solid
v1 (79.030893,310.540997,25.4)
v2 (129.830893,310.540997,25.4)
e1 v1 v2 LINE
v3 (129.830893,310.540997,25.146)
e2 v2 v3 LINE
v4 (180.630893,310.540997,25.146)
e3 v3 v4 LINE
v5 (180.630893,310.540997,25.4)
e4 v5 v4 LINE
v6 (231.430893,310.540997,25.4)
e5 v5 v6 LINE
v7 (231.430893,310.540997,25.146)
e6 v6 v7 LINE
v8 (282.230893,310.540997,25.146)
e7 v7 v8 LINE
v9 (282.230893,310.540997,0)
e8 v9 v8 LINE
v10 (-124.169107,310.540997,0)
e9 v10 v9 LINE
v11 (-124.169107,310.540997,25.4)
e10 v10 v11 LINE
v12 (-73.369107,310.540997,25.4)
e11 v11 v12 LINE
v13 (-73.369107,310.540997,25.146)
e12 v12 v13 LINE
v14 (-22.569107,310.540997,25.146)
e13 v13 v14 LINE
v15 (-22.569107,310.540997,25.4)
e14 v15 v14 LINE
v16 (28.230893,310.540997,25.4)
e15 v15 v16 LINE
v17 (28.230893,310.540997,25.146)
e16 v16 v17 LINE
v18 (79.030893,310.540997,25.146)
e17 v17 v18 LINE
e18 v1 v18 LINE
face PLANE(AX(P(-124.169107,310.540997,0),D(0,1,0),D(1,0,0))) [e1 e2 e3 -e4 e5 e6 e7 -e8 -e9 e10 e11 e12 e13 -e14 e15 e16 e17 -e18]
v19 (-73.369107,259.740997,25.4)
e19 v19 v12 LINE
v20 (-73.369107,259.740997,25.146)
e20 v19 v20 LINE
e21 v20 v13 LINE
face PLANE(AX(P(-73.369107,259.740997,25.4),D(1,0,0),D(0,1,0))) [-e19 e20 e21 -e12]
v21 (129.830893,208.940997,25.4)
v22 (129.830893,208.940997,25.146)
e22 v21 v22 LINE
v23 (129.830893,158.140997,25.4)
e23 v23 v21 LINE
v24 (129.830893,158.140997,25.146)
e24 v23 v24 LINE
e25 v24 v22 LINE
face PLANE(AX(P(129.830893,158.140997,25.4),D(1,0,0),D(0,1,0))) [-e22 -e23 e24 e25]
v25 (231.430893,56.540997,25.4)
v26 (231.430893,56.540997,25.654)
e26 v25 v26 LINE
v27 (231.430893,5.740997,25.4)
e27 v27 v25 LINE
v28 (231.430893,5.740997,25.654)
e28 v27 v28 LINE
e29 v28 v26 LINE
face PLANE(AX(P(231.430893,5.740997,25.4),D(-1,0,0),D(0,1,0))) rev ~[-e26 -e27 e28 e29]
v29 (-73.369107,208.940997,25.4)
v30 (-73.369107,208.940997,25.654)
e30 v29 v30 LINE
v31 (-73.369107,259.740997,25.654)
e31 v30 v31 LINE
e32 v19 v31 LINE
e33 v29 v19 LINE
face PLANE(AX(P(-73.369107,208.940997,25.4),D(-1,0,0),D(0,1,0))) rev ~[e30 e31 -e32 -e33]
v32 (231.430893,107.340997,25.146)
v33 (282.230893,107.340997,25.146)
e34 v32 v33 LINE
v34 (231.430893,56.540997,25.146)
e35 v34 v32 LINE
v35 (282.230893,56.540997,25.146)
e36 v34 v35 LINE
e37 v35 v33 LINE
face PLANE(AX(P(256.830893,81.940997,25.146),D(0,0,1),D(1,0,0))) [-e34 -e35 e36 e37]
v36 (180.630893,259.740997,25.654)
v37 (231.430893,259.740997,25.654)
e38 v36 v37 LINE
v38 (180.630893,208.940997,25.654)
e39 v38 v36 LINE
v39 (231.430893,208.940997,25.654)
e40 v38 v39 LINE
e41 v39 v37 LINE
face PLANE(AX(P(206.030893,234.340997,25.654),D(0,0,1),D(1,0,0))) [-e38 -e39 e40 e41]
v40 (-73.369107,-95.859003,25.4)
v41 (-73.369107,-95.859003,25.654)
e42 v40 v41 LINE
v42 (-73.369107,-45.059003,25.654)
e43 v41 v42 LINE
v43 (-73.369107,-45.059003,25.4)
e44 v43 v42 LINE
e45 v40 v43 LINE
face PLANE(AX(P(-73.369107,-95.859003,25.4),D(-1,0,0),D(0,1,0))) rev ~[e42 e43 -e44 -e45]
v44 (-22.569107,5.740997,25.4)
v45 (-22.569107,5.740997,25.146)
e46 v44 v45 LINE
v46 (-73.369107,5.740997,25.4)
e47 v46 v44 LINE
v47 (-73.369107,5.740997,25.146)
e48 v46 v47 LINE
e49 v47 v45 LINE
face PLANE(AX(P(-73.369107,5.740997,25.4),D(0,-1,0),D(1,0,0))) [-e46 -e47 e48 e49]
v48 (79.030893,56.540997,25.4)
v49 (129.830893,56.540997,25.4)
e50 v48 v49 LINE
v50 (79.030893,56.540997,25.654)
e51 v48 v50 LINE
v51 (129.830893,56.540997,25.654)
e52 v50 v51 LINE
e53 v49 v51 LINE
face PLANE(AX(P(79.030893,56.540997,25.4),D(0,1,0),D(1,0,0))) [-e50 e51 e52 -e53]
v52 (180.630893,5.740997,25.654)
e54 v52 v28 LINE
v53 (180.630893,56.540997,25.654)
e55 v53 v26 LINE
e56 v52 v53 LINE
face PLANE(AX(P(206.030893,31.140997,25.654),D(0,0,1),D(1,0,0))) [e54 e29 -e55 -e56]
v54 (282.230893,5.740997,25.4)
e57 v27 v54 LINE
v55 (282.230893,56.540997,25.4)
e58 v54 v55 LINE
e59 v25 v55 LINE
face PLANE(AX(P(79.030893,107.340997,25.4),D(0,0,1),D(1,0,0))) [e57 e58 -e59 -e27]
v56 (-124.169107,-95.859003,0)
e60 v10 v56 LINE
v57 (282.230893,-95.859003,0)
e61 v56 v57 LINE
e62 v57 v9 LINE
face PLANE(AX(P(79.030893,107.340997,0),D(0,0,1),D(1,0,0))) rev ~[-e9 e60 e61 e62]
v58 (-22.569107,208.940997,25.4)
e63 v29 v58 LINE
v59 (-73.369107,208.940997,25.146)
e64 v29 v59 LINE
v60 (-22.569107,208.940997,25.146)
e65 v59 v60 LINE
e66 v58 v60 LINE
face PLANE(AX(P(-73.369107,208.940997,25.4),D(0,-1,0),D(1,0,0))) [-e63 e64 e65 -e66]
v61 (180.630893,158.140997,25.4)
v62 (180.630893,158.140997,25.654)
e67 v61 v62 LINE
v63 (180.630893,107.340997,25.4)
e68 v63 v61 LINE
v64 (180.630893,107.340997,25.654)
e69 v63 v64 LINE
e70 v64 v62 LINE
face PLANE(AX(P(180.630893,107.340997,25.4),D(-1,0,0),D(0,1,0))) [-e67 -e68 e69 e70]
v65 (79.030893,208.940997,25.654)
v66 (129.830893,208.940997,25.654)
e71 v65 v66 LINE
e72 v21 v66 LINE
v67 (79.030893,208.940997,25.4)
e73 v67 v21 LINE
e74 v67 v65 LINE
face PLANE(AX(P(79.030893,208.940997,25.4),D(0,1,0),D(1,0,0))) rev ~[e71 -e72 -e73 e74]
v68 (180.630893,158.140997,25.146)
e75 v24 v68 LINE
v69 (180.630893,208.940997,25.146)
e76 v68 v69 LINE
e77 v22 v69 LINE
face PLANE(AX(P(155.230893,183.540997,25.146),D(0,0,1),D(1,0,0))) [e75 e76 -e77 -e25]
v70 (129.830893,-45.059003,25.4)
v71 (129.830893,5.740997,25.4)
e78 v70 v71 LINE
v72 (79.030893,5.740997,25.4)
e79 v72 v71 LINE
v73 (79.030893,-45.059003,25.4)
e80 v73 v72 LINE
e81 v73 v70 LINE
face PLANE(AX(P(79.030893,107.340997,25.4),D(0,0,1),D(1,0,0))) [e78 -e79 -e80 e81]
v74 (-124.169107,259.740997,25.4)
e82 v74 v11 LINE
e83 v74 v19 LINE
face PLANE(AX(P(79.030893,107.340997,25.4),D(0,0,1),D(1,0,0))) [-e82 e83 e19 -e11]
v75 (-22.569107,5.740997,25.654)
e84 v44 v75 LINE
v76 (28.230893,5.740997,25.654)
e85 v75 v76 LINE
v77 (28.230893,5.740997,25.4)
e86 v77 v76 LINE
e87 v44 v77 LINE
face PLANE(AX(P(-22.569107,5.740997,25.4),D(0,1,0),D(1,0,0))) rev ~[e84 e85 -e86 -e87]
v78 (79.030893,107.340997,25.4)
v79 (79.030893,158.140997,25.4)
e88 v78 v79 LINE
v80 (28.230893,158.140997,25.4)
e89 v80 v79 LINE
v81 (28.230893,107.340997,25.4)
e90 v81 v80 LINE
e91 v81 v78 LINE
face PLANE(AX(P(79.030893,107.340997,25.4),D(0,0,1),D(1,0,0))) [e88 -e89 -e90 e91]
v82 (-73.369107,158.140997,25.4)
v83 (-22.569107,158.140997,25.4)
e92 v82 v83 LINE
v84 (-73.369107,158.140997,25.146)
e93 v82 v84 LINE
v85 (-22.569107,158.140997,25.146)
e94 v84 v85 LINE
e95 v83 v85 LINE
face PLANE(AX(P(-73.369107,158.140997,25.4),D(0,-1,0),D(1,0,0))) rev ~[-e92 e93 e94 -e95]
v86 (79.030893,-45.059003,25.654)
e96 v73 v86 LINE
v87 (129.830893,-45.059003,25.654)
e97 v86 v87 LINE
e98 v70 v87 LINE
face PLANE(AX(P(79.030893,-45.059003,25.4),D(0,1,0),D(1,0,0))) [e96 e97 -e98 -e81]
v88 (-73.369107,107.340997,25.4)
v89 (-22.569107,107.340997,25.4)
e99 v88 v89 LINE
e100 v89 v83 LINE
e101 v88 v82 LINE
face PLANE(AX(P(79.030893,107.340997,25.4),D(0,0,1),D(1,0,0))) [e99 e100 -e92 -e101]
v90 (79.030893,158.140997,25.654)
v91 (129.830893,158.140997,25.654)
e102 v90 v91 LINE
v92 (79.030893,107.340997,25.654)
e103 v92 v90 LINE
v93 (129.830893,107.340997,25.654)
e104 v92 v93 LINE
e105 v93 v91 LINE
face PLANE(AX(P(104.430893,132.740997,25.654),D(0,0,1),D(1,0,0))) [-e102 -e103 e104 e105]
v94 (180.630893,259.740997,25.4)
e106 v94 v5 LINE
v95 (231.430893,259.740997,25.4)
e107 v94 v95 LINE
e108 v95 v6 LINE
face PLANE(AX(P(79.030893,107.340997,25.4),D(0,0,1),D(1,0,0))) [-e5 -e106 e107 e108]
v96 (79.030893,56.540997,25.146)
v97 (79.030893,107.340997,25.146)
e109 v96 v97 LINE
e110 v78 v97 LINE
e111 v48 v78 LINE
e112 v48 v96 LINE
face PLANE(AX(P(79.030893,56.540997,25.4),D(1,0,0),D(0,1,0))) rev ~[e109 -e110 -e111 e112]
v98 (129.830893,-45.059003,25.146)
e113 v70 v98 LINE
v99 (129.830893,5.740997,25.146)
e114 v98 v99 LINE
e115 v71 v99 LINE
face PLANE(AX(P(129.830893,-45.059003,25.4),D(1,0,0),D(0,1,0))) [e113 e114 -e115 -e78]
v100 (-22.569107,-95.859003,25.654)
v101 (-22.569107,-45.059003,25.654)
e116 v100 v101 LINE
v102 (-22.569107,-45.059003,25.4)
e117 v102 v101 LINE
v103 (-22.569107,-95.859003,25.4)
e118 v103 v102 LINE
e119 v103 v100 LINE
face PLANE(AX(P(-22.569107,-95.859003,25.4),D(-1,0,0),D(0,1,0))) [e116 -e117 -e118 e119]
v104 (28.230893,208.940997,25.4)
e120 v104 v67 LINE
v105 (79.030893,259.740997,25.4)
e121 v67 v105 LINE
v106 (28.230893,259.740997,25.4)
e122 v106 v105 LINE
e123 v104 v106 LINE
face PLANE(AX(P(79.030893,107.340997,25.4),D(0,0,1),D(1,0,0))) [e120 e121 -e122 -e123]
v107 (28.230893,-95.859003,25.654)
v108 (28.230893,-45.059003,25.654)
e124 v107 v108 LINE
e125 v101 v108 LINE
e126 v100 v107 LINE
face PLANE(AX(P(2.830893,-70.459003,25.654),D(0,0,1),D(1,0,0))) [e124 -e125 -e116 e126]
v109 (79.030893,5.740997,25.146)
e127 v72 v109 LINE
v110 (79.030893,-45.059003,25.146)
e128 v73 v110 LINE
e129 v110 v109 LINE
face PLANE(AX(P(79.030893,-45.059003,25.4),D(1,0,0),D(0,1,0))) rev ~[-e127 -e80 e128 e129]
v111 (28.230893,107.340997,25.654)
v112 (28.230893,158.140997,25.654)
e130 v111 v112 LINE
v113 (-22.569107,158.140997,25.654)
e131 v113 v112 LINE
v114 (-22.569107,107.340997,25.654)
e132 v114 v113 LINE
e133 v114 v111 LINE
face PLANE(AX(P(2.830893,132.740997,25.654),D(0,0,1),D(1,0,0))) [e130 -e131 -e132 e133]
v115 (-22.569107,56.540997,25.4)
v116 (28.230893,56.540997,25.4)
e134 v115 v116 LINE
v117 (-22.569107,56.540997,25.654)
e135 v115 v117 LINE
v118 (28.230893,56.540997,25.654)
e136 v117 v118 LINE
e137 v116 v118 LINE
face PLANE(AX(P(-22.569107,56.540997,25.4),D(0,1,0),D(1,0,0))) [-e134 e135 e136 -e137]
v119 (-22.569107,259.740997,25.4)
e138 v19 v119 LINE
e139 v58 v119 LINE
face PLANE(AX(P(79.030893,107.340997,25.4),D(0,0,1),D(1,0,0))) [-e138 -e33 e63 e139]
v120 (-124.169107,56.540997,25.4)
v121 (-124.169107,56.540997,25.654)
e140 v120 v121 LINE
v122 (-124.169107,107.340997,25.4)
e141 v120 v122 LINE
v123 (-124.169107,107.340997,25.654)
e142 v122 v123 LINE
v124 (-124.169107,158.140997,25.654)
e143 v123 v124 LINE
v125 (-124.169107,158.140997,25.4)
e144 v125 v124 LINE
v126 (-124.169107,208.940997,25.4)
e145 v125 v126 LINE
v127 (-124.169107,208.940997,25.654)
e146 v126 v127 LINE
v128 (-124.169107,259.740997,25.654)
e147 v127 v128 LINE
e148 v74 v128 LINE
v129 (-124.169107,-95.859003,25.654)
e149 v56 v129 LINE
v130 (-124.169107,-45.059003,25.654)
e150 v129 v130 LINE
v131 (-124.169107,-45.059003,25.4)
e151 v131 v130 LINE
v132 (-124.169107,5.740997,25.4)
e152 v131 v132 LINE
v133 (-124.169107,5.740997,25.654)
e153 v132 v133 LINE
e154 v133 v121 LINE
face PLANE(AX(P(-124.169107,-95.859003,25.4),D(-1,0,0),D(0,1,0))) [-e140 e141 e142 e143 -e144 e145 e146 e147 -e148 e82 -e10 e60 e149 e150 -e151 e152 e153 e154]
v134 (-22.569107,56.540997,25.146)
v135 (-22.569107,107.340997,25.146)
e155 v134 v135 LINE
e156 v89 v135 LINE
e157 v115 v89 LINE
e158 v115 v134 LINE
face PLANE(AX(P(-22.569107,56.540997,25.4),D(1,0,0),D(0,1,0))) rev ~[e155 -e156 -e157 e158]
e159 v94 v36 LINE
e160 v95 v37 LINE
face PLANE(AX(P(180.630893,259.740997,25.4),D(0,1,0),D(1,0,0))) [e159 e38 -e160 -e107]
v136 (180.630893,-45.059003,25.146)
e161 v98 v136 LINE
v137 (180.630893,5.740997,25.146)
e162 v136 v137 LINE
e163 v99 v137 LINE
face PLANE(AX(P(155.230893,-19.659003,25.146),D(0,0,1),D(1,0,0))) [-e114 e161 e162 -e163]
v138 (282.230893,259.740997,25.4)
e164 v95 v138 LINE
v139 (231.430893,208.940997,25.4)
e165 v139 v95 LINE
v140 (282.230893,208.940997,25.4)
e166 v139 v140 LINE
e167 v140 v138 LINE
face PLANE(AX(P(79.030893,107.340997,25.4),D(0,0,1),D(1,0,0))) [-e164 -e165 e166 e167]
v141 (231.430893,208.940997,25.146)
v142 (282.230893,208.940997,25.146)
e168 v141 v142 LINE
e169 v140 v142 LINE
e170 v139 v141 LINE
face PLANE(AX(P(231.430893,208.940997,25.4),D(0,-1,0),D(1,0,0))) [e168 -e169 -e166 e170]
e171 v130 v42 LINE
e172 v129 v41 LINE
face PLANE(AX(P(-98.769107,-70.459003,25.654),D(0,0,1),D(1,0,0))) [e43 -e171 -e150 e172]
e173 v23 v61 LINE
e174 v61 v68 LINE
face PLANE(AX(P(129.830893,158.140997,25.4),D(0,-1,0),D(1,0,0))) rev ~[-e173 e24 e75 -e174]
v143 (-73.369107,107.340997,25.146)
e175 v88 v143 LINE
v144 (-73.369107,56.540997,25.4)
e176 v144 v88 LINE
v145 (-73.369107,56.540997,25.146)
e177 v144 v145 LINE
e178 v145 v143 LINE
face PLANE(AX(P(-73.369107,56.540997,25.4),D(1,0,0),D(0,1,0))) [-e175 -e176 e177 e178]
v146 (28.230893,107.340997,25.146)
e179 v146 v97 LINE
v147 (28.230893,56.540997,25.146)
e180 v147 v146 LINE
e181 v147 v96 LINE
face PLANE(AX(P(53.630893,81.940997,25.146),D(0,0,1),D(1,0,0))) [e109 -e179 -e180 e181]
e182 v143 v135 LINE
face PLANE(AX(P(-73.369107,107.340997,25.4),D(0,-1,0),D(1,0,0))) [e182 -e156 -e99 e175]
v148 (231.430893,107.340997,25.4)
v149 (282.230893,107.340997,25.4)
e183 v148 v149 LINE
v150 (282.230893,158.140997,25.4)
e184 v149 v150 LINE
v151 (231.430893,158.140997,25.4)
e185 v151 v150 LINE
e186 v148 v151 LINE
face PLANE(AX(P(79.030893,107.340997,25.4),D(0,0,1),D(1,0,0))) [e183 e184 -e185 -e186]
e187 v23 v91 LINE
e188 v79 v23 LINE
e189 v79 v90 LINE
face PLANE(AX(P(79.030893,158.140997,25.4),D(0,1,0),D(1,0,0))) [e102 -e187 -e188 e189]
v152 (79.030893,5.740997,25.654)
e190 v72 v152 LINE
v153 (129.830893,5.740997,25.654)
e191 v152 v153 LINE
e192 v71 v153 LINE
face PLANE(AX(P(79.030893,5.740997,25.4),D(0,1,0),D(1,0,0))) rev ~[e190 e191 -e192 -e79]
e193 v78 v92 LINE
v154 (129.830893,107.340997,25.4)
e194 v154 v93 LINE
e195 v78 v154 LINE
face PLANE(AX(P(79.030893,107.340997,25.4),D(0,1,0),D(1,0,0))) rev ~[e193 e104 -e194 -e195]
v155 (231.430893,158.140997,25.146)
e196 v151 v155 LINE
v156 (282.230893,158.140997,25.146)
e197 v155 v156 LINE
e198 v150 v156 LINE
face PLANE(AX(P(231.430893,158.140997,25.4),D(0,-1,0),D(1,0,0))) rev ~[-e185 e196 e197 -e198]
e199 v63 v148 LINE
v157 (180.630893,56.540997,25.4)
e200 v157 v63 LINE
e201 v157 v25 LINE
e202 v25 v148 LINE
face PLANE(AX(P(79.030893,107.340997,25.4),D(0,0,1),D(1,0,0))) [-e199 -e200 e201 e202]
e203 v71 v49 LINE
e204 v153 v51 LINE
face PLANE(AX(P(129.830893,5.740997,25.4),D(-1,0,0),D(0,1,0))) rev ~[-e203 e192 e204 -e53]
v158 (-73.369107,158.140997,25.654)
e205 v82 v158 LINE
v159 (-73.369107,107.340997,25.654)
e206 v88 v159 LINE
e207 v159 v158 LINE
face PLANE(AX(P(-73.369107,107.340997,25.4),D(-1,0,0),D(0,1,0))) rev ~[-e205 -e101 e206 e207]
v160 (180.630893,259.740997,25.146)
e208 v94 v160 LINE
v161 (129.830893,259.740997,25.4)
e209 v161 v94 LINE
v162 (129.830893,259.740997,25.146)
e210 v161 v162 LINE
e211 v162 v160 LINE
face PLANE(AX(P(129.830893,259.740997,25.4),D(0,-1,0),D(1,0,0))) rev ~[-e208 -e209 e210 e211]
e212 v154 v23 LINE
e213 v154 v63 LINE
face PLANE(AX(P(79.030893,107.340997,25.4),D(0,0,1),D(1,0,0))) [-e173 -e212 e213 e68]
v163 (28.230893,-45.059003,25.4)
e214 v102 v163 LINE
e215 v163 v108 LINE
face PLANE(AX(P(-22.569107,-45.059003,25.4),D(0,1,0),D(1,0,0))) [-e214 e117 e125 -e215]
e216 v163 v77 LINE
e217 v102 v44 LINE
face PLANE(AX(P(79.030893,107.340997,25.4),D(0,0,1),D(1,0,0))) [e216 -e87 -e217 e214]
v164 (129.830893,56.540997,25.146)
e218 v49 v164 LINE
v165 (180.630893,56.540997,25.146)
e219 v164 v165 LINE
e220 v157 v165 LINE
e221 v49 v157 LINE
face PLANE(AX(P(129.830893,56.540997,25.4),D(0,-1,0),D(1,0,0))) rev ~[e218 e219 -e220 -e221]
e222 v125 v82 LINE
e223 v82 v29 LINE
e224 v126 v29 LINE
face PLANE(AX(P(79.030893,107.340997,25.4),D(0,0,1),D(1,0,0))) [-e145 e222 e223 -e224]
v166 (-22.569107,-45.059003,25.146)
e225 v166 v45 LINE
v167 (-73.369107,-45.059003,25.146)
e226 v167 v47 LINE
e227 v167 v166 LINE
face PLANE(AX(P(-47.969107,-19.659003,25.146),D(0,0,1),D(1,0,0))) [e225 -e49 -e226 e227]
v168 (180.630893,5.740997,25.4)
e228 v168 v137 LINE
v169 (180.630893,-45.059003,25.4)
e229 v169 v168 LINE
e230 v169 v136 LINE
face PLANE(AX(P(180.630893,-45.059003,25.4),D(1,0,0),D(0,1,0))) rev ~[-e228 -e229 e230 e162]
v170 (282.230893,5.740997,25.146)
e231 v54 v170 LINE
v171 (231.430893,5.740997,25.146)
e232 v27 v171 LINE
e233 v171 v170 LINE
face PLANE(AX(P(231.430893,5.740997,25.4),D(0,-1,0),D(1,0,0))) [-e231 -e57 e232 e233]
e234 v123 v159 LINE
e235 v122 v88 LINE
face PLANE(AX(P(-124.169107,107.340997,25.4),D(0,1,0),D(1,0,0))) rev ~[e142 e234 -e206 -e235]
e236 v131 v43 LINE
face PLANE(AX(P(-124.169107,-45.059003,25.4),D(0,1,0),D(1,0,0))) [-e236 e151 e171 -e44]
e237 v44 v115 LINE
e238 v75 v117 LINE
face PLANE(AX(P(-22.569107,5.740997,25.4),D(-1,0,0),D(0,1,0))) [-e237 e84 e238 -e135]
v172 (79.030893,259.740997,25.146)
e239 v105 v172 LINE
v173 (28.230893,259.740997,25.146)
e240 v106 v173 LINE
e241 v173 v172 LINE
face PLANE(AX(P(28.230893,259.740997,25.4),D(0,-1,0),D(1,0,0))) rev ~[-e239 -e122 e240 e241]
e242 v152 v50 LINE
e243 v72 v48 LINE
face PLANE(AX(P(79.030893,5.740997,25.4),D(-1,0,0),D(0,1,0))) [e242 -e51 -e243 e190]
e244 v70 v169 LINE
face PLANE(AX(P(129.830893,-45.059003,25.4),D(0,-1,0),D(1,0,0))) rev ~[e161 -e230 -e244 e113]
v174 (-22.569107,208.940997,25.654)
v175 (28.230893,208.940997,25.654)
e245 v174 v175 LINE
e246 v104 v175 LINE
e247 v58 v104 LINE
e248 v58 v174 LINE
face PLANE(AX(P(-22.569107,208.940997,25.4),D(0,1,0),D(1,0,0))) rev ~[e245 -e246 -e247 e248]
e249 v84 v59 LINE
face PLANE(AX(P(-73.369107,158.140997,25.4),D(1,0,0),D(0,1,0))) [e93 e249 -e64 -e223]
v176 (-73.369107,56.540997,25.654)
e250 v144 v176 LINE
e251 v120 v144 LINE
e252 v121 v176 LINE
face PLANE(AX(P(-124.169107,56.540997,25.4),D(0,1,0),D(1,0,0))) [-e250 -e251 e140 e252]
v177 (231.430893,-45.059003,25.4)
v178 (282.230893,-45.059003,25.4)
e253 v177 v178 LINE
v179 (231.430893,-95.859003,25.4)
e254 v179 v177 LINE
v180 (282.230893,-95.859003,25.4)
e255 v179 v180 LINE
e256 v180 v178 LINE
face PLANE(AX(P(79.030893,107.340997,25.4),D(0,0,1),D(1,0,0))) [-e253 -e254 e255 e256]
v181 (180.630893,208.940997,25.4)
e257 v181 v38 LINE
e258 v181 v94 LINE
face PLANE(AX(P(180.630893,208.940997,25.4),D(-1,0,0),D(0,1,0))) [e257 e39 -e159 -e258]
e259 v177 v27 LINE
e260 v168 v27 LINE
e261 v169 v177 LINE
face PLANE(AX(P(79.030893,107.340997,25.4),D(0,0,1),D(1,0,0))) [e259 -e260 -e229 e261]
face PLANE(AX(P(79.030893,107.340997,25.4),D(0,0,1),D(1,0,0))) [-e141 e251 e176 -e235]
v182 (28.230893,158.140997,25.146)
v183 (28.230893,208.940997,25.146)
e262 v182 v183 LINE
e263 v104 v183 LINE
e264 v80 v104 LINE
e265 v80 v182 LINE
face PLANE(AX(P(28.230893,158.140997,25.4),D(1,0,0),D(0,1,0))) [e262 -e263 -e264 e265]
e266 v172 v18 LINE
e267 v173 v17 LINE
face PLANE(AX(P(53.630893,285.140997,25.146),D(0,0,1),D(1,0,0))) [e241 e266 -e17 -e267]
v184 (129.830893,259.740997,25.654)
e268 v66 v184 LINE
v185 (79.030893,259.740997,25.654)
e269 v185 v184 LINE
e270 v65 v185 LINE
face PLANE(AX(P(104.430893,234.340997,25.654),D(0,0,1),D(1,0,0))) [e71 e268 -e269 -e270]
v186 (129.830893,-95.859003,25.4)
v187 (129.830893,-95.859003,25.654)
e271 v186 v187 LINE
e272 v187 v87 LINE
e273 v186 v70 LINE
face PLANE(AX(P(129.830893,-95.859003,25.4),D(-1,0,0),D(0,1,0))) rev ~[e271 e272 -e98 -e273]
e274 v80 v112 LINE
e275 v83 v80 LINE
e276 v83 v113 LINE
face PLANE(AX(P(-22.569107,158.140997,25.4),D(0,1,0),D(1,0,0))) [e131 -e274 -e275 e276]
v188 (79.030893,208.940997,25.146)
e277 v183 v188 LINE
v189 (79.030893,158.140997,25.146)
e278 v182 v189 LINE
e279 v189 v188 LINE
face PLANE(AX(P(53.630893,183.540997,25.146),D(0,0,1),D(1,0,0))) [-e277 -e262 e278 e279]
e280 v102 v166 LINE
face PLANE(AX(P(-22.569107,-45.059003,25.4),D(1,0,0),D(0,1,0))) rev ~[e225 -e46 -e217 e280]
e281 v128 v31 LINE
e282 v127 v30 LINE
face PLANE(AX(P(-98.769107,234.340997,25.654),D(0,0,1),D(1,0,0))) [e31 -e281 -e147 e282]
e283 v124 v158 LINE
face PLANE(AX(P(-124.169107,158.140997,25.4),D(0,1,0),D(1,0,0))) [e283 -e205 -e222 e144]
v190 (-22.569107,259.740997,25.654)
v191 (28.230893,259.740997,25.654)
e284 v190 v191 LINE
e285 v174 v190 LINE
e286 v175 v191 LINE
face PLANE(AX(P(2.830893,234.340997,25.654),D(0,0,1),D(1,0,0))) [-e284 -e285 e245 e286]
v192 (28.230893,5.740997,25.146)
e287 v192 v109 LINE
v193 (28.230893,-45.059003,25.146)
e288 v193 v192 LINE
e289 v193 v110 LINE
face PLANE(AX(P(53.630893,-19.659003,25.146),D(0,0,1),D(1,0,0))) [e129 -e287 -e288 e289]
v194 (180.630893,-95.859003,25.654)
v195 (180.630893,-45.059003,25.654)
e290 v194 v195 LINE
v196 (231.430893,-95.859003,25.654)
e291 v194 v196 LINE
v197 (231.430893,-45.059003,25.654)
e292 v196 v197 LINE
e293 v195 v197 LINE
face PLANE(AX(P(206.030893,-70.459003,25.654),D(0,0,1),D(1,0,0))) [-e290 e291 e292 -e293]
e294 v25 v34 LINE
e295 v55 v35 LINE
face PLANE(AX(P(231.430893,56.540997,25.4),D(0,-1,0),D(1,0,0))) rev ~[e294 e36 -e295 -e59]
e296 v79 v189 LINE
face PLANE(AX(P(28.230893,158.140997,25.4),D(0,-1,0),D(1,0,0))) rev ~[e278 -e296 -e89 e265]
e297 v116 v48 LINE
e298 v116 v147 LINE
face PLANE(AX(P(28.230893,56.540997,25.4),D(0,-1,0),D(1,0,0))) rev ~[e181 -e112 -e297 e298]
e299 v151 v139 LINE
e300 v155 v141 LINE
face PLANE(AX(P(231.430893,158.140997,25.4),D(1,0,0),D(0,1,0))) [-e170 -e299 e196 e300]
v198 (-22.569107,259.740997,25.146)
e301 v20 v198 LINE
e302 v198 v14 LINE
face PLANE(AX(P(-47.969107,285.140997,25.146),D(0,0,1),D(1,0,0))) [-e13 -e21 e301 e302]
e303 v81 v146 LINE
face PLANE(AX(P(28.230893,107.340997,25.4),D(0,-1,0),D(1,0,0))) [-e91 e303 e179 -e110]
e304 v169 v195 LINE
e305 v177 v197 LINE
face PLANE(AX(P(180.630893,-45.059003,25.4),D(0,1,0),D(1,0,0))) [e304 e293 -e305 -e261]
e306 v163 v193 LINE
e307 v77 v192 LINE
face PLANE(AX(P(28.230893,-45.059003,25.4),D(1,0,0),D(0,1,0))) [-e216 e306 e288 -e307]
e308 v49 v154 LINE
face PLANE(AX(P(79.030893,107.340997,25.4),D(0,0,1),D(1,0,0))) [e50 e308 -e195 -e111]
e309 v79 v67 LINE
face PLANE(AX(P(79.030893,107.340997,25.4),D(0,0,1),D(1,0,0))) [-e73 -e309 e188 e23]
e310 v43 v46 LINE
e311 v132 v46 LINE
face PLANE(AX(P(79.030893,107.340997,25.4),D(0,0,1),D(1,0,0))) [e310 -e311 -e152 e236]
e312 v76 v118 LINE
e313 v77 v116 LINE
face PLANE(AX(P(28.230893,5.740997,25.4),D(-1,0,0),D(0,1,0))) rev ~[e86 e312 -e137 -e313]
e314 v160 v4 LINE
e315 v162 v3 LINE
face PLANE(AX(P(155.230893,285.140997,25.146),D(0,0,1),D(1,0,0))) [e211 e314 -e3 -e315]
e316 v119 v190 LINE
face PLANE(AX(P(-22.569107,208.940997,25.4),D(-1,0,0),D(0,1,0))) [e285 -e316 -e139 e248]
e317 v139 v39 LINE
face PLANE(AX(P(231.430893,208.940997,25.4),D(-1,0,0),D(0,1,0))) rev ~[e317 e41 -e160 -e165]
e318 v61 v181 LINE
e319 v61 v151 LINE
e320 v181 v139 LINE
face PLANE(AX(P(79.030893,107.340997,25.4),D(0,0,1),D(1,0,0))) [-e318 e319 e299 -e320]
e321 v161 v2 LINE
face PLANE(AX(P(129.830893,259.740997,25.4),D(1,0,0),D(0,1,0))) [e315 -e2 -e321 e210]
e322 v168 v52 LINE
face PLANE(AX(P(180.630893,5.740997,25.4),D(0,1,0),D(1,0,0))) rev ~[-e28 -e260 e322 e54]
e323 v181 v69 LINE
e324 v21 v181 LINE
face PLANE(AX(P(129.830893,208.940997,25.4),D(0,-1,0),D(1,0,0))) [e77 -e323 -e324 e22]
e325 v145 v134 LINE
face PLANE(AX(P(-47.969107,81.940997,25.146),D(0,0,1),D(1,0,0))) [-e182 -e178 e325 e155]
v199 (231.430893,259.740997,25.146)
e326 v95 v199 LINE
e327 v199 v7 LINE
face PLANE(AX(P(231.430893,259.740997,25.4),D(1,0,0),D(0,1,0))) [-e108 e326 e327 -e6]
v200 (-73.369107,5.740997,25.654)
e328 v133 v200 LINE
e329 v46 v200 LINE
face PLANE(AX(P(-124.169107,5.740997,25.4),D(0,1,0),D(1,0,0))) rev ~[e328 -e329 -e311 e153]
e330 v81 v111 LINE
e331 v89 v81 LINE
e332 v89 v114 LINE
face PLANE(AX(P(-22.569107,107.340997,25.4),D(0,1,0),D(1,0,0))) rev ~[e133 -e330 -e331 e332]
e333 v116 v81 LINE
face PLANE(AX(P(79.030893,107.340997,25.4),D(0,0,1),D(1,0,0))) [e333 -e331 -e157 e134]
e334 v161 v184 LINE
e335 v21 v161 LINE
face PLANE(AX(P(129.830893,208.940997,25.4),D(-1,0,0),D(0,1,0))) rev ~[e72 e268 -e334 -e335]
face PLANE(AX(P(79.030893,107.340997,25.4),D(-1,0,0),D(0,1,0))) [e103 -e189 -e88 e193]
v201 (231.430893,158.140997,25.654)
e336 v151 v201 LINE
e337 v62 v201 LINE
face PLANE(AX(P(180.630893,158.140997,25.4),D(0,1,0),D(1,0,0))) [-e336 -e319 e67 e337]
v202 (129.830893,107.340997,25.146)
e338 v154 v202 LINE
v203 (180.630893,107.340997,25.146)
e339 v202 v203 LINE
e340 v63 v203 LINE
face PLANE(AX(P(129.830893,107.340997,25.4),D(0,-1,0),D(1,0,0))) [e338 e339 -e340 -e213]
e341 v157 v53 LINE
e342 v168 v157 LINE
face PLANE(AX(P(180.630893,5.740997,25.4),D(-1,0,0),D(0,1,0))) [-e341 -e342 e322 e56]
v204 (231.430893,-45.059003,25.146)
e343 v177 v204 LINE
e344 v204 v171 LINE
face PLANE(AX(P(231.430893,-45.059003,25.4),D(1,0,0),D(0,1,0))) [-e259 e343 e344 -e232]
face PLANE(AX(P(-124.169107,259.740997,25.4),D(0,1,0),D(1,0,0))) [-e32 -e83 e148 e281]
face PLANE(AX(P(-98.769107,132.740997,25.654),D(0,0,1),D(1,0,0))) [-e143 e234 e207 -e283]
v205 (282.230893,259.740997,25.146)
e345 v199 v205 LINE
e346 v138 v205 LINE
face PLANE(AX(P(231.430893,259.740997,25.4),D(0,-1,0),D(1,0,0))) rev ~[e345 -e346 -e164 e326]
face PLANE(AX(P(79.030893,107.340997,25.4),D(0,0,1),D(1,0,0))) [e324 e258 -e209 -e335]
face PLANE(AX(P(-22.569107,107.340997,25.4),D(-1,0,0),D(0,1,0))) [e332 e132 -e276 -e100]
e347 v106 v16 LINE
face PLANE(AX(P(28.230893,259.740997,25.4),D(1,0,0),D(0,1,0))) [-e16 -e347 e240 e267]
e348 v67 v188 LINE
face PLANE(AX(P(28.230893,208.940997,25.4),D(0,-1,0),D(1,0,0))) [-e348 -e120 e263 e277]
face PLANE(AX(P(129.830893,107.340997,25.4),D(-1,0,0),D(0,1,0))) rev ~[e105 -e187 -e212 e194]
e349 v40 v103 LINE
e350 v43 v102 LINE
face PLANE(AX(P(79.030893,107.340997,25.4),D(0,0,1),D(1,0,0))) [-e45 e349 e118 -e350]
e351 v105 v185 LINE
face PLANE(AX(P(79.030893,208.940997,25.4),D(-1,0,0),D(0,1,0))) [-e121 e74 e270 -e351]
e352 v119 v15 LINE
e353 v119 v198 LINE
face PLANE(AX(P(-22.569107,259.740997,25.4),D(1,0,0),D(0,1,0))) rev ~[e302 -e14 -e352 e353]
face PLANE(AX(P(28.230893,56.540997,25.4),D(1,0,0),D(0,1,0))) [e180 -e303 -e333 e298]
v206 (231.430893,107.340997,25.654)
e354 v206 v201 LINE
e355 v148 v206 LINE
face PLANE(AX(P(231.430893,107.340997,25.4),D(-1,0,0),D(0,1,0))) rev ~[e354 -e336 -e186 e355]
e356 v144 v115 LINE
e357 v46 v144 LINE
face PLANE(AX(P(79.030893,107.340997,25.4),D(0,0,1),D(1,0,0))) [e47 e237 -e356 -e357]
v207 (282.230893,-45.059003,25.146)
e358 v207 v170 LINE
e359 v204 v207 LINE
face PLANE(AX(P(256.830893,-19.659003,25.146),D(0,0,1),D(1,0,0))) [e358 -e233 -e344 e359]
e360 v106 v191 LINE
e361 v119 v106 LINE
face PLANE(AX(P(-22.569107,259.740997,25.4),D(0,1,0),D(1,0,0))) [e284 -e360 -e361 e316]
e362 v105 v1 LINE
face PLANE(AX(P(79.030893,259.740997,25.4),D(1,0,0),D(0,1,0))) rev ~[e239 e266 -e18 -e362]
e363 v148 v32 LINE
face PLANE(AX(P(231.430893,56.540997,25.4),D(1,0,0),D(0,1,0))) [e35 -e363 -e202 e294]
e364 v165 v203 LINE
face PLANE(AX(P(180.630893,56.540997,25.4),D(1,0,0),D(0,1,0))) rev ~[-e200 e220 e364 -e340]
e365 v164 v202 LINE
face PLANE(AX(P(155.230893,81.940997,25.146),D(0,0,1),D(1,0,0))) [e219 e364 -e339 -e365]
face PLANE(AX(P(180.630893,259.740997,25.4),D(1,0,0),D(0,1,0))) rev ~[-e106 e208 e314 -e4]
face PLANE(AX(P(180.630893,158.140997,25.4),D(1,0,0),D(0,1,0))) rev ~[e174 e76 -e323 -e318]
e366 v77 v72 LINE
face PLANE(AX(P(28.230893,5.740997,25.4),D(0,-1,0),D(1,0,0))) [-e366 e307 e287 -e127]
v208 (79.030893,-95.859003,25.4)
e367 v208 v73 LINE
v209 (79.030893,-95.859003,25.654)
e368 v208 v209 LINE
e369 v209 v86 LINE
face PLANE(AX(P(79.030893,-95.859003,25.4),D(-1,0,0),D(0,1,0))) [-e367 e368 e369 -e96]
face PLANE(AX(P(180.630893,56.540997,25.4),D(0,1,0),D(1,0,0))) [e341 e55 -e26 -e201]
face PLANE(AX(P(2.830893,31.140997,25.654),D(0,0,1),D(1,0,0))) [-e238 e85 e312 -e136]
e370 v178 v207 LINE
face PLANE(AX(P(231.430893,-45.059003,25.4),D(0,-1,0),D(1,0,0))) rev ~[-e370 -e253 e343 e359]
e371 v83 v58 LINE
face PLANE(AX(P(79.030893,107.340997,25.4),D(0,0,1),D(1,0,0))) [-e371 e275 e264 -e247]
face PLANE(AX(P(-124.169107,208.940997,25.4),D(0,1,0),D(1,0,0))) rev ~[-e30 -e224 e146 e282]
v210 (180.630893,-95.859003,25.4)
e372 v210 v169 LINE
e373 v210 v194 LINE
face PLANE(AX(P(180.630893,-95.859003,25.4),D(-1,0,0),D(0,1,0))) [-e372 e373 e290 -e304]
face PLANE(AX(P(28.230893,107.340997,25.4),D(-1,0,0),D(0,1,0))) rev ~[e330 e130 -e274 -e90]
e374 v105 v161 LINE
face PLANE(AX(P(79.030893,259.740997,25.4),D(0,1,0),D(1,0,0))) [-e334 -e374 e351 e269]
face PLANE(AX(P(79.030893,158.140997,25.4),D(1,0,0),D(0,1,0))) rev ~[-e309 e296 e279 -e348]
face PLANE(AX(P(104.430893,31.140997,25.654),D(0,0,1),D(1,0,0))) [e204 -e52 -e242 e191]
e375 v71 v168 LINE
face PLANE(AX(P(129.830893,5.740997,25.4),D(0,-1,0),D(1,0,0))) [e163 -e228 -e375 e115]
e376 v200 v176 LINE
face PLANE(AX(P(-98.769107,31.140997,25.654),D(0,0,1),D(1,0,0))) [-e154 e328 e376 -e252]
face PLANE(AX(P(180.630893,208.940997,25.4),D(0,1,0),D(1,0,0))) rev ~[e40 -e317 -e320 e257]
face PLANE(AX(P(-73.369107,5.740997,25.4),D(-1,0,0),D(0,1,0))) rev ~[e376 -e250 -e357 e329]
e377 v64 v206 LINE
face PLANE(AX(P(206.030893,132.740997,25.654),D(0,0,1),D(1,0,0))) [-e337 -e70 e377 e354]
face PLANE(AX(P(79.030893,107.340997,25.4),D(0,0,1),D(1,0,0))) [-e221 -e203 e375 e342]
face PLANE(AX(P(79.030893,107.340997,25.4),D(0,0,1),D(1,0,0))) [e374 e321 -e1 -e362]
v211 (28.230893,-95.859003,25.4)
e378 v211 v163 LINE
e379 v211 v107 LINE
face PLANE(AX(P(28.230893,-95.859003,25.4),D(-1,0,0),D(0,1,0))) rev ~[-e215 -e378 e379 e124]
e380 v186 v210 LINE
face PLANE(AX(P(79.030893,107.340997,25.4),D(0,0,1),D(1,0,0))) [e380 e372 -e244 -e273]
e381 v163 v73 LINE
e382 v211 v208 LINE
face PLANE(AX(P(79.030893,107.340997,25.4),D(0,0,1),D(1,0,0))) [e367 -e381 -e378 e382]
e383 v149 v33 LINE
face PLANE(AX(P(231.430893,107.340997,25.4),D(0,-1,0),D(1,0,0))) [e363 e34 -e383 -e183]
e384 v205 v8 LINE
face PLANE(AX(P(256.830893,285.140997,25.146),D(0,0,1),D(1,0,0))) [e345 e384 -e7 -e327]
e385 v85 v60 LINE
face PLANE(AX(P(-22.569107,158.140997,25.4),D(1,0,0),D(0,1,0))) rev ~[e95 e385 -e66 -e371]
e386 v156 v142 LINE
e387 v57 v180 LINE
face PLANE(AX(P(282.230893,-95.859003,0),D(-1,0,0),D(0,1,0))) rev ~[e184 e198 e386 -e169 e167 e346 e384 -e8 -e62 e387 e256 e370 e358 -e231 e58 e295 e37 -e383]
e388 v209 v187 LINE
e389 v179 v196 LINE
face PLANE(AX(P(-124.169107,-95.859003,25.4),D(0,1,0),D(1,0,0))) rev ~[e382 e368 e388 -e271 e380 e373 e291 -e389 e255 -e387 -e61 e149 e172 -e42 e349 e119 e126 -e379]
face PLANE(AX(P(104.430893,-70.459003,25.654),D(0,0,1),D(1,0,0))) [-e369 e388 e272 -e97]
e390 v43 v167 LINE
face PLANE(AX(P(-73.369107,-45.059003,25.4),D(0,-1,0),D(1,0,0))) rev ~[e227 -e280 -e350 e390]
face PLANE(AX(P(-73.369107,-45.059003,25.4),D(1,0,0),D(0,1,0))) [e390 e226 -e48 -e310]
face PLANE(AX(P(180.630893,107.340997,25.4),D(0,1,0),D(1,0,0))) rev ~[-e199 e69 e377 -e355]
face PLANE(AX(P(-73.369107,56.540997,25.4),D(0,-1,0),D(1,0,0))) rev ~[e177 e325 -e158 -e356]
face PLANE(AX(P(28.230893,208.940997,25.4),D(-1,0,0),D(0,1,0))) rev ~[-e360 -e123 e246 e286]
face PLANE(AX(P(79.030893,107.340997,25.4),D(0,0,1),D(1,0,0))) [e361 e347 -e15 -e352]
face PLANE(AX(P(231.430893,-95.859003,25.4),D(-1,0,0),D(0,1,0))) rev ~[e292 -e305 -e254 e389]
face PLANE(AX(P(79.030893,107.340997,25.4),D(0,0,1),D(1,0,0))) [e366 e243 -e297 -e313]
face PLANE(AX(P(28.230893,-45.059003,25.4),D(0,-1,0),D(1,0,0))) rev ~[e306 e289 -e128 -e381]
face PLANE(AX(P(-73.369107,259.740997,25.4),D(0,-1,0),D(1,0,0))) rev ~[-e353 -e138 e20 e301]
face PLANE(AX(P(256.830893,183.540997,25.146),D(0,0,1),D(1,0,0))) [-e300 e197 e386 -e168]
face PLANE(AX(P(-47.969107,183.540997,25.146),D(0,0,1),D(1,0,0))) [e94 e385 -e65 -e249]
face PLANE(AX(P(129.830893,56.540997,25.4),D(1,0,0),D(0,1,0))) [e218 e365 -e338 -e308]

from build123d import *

# Parameters (mm, degrees)
F0_W          = 406.4
F0_H          = 406.4
F1_DEPTH      = 25.4
F2_W          = 50.8
F2_H          = 50.8
F3_DEPTH      = 0.254
F3_DEPTH_BACK = 25.4
F4_W          = 50.8
F4_H          = 50.8
F5_DEPTH      = 0.254


with BuildPart() as f1:
    # F0 (on Top) → F1 (new body)
    with BuildSketch(Plane.XY):
        with Locations((79.0308928013, 107.3409973125)):
            Rectangle(F0_W, F0_H)
    extrude(amount=F1_DEPTH)

    # F2 (on face) → F3 (join, two sides)
    with BuildSketch(Plane.XY.offset(25.4)) as f3_sk:
        with Locations((-98.7691071987, -70.4590026875)):
            Rectangle(F2_W, F2_H)
        with Locations((-98.7691071987, 31.1409973125)):
            Rectangle(F2_W, F2_H)
        with Locations((-98.7691071987, 132.7409973125)):
            Rectangle(F2_W, F2_H)
        with Locations((-98.7691071987, 234.3409973125)):
            Rectangle(F2_W, F2_H)
        with Locations((2.8308928013, -70.4590026875)):
            Rectangle(F2_W, F2_H)
        with Locations((2.8308928013, 31.1409973125)):
            Rectangle(F2_W, F2_H)
        with Locations((2.8308928013, 132.7409973125)):
            Rectangle(F2_W, F2_H)
        with Locations((2.8308928013, 234.3409973125)):
            Rectangle(F2_W, F2_H)
        with Locations((104.4308928013, -70.4590026875)):
            Rectangle(F2_W, F2_H)
        with Locations((104.4308928013, 31.1409973125)):
            Rectangle(F2_W, F2_H)
        with Locations((104.4308928013, 132.7409973125)):
            Rectangle(F2_W, F2_H)
        with Locations((104.4308928013, 234.3409973125)):
            Rectangle(F2_W, F2_H)
        with Locations((206.0308928013, -70.4590026875)):
            Rectangle(F2_W, F2_H)
        with Locations((206.0308928013, 31.1409973125)):
            Rectangle(F2_W, F2_H)
        with Locations((206.0308928013, 132.7409973125)):
            Rectangle(F2_W, F2_H)
        with Locations((206.0308928013, 234.3409973125)):
            Rectangle(F2_W, F2_H)
    extrude(amount=F3_DEPTH)
    extrude(f3_sk.sketch, amount=-F3_DEPTH_BACK)

    # F4 (on face) → F5 (cut)
    with BuildSketch(Plane.XY.offset(25.4)):
        with Locations((-47.9691071987, -19.6590026875)):
            Rectangle(F4_W, F4_H)
        with Locations((-47.9691071987, 81.9409973125)):
            Rectangle(F4_W, F4_H)
        with Locations((-47.9691071987, 183.5409973125)):
            Rectangle(F4_W, F4_H)
        with Locations((-47.9691071987, 285.1409973125)):
            Rectangle(F4_W, F4_H)
        with Locations((53.6308928013, 285.1409973125)):
            Rectangle(F4_W, F4_H)
        with Locations((53.6308928013, 183.5409973125)):
            Rectangle(F4_W, F4_H)
        with Locations((53.6308928013, 81.9409973125)):
            Rectangle(F4_W, F4_H)
        with Locations((53.6308928013, -19.6590026875)):
            Rectangle(F4_W, F4_H)
        with Locations((155.2308928013, -19.6590026875)):
            Rectangle(F4_W, F4_H)
        with Locations((155.2308928013, 81.9409973125)):
            Rectangle(F4_W, F4_H)
        with Locations((155.2308928013, 183.5409973125)):
            Rectangle(F4_W, F4_H)
        with Locations((155.2308928013, 285.1409973125)):
            Rectangle(F4_W, F4_H)
        with Locations((256.8308928013, 285.1409973125)):
            Rectangle(F4_W, F4_H)
        with Locations((256.8308928013, 183.5409973125)):
            Rectangle(F4_W, F4_H)
        with Locations((256.8308928013, 81.9409973125)):
            Rectangle(F4_W, F4_H)
        with Locations((256.8308928013, -19.6590026875)):
            Rectangle(F4_W, F4_H)
    extrude(amount=-F5_DEPTH, mode=Mode.SUBTRACT)


solid = f1.part
